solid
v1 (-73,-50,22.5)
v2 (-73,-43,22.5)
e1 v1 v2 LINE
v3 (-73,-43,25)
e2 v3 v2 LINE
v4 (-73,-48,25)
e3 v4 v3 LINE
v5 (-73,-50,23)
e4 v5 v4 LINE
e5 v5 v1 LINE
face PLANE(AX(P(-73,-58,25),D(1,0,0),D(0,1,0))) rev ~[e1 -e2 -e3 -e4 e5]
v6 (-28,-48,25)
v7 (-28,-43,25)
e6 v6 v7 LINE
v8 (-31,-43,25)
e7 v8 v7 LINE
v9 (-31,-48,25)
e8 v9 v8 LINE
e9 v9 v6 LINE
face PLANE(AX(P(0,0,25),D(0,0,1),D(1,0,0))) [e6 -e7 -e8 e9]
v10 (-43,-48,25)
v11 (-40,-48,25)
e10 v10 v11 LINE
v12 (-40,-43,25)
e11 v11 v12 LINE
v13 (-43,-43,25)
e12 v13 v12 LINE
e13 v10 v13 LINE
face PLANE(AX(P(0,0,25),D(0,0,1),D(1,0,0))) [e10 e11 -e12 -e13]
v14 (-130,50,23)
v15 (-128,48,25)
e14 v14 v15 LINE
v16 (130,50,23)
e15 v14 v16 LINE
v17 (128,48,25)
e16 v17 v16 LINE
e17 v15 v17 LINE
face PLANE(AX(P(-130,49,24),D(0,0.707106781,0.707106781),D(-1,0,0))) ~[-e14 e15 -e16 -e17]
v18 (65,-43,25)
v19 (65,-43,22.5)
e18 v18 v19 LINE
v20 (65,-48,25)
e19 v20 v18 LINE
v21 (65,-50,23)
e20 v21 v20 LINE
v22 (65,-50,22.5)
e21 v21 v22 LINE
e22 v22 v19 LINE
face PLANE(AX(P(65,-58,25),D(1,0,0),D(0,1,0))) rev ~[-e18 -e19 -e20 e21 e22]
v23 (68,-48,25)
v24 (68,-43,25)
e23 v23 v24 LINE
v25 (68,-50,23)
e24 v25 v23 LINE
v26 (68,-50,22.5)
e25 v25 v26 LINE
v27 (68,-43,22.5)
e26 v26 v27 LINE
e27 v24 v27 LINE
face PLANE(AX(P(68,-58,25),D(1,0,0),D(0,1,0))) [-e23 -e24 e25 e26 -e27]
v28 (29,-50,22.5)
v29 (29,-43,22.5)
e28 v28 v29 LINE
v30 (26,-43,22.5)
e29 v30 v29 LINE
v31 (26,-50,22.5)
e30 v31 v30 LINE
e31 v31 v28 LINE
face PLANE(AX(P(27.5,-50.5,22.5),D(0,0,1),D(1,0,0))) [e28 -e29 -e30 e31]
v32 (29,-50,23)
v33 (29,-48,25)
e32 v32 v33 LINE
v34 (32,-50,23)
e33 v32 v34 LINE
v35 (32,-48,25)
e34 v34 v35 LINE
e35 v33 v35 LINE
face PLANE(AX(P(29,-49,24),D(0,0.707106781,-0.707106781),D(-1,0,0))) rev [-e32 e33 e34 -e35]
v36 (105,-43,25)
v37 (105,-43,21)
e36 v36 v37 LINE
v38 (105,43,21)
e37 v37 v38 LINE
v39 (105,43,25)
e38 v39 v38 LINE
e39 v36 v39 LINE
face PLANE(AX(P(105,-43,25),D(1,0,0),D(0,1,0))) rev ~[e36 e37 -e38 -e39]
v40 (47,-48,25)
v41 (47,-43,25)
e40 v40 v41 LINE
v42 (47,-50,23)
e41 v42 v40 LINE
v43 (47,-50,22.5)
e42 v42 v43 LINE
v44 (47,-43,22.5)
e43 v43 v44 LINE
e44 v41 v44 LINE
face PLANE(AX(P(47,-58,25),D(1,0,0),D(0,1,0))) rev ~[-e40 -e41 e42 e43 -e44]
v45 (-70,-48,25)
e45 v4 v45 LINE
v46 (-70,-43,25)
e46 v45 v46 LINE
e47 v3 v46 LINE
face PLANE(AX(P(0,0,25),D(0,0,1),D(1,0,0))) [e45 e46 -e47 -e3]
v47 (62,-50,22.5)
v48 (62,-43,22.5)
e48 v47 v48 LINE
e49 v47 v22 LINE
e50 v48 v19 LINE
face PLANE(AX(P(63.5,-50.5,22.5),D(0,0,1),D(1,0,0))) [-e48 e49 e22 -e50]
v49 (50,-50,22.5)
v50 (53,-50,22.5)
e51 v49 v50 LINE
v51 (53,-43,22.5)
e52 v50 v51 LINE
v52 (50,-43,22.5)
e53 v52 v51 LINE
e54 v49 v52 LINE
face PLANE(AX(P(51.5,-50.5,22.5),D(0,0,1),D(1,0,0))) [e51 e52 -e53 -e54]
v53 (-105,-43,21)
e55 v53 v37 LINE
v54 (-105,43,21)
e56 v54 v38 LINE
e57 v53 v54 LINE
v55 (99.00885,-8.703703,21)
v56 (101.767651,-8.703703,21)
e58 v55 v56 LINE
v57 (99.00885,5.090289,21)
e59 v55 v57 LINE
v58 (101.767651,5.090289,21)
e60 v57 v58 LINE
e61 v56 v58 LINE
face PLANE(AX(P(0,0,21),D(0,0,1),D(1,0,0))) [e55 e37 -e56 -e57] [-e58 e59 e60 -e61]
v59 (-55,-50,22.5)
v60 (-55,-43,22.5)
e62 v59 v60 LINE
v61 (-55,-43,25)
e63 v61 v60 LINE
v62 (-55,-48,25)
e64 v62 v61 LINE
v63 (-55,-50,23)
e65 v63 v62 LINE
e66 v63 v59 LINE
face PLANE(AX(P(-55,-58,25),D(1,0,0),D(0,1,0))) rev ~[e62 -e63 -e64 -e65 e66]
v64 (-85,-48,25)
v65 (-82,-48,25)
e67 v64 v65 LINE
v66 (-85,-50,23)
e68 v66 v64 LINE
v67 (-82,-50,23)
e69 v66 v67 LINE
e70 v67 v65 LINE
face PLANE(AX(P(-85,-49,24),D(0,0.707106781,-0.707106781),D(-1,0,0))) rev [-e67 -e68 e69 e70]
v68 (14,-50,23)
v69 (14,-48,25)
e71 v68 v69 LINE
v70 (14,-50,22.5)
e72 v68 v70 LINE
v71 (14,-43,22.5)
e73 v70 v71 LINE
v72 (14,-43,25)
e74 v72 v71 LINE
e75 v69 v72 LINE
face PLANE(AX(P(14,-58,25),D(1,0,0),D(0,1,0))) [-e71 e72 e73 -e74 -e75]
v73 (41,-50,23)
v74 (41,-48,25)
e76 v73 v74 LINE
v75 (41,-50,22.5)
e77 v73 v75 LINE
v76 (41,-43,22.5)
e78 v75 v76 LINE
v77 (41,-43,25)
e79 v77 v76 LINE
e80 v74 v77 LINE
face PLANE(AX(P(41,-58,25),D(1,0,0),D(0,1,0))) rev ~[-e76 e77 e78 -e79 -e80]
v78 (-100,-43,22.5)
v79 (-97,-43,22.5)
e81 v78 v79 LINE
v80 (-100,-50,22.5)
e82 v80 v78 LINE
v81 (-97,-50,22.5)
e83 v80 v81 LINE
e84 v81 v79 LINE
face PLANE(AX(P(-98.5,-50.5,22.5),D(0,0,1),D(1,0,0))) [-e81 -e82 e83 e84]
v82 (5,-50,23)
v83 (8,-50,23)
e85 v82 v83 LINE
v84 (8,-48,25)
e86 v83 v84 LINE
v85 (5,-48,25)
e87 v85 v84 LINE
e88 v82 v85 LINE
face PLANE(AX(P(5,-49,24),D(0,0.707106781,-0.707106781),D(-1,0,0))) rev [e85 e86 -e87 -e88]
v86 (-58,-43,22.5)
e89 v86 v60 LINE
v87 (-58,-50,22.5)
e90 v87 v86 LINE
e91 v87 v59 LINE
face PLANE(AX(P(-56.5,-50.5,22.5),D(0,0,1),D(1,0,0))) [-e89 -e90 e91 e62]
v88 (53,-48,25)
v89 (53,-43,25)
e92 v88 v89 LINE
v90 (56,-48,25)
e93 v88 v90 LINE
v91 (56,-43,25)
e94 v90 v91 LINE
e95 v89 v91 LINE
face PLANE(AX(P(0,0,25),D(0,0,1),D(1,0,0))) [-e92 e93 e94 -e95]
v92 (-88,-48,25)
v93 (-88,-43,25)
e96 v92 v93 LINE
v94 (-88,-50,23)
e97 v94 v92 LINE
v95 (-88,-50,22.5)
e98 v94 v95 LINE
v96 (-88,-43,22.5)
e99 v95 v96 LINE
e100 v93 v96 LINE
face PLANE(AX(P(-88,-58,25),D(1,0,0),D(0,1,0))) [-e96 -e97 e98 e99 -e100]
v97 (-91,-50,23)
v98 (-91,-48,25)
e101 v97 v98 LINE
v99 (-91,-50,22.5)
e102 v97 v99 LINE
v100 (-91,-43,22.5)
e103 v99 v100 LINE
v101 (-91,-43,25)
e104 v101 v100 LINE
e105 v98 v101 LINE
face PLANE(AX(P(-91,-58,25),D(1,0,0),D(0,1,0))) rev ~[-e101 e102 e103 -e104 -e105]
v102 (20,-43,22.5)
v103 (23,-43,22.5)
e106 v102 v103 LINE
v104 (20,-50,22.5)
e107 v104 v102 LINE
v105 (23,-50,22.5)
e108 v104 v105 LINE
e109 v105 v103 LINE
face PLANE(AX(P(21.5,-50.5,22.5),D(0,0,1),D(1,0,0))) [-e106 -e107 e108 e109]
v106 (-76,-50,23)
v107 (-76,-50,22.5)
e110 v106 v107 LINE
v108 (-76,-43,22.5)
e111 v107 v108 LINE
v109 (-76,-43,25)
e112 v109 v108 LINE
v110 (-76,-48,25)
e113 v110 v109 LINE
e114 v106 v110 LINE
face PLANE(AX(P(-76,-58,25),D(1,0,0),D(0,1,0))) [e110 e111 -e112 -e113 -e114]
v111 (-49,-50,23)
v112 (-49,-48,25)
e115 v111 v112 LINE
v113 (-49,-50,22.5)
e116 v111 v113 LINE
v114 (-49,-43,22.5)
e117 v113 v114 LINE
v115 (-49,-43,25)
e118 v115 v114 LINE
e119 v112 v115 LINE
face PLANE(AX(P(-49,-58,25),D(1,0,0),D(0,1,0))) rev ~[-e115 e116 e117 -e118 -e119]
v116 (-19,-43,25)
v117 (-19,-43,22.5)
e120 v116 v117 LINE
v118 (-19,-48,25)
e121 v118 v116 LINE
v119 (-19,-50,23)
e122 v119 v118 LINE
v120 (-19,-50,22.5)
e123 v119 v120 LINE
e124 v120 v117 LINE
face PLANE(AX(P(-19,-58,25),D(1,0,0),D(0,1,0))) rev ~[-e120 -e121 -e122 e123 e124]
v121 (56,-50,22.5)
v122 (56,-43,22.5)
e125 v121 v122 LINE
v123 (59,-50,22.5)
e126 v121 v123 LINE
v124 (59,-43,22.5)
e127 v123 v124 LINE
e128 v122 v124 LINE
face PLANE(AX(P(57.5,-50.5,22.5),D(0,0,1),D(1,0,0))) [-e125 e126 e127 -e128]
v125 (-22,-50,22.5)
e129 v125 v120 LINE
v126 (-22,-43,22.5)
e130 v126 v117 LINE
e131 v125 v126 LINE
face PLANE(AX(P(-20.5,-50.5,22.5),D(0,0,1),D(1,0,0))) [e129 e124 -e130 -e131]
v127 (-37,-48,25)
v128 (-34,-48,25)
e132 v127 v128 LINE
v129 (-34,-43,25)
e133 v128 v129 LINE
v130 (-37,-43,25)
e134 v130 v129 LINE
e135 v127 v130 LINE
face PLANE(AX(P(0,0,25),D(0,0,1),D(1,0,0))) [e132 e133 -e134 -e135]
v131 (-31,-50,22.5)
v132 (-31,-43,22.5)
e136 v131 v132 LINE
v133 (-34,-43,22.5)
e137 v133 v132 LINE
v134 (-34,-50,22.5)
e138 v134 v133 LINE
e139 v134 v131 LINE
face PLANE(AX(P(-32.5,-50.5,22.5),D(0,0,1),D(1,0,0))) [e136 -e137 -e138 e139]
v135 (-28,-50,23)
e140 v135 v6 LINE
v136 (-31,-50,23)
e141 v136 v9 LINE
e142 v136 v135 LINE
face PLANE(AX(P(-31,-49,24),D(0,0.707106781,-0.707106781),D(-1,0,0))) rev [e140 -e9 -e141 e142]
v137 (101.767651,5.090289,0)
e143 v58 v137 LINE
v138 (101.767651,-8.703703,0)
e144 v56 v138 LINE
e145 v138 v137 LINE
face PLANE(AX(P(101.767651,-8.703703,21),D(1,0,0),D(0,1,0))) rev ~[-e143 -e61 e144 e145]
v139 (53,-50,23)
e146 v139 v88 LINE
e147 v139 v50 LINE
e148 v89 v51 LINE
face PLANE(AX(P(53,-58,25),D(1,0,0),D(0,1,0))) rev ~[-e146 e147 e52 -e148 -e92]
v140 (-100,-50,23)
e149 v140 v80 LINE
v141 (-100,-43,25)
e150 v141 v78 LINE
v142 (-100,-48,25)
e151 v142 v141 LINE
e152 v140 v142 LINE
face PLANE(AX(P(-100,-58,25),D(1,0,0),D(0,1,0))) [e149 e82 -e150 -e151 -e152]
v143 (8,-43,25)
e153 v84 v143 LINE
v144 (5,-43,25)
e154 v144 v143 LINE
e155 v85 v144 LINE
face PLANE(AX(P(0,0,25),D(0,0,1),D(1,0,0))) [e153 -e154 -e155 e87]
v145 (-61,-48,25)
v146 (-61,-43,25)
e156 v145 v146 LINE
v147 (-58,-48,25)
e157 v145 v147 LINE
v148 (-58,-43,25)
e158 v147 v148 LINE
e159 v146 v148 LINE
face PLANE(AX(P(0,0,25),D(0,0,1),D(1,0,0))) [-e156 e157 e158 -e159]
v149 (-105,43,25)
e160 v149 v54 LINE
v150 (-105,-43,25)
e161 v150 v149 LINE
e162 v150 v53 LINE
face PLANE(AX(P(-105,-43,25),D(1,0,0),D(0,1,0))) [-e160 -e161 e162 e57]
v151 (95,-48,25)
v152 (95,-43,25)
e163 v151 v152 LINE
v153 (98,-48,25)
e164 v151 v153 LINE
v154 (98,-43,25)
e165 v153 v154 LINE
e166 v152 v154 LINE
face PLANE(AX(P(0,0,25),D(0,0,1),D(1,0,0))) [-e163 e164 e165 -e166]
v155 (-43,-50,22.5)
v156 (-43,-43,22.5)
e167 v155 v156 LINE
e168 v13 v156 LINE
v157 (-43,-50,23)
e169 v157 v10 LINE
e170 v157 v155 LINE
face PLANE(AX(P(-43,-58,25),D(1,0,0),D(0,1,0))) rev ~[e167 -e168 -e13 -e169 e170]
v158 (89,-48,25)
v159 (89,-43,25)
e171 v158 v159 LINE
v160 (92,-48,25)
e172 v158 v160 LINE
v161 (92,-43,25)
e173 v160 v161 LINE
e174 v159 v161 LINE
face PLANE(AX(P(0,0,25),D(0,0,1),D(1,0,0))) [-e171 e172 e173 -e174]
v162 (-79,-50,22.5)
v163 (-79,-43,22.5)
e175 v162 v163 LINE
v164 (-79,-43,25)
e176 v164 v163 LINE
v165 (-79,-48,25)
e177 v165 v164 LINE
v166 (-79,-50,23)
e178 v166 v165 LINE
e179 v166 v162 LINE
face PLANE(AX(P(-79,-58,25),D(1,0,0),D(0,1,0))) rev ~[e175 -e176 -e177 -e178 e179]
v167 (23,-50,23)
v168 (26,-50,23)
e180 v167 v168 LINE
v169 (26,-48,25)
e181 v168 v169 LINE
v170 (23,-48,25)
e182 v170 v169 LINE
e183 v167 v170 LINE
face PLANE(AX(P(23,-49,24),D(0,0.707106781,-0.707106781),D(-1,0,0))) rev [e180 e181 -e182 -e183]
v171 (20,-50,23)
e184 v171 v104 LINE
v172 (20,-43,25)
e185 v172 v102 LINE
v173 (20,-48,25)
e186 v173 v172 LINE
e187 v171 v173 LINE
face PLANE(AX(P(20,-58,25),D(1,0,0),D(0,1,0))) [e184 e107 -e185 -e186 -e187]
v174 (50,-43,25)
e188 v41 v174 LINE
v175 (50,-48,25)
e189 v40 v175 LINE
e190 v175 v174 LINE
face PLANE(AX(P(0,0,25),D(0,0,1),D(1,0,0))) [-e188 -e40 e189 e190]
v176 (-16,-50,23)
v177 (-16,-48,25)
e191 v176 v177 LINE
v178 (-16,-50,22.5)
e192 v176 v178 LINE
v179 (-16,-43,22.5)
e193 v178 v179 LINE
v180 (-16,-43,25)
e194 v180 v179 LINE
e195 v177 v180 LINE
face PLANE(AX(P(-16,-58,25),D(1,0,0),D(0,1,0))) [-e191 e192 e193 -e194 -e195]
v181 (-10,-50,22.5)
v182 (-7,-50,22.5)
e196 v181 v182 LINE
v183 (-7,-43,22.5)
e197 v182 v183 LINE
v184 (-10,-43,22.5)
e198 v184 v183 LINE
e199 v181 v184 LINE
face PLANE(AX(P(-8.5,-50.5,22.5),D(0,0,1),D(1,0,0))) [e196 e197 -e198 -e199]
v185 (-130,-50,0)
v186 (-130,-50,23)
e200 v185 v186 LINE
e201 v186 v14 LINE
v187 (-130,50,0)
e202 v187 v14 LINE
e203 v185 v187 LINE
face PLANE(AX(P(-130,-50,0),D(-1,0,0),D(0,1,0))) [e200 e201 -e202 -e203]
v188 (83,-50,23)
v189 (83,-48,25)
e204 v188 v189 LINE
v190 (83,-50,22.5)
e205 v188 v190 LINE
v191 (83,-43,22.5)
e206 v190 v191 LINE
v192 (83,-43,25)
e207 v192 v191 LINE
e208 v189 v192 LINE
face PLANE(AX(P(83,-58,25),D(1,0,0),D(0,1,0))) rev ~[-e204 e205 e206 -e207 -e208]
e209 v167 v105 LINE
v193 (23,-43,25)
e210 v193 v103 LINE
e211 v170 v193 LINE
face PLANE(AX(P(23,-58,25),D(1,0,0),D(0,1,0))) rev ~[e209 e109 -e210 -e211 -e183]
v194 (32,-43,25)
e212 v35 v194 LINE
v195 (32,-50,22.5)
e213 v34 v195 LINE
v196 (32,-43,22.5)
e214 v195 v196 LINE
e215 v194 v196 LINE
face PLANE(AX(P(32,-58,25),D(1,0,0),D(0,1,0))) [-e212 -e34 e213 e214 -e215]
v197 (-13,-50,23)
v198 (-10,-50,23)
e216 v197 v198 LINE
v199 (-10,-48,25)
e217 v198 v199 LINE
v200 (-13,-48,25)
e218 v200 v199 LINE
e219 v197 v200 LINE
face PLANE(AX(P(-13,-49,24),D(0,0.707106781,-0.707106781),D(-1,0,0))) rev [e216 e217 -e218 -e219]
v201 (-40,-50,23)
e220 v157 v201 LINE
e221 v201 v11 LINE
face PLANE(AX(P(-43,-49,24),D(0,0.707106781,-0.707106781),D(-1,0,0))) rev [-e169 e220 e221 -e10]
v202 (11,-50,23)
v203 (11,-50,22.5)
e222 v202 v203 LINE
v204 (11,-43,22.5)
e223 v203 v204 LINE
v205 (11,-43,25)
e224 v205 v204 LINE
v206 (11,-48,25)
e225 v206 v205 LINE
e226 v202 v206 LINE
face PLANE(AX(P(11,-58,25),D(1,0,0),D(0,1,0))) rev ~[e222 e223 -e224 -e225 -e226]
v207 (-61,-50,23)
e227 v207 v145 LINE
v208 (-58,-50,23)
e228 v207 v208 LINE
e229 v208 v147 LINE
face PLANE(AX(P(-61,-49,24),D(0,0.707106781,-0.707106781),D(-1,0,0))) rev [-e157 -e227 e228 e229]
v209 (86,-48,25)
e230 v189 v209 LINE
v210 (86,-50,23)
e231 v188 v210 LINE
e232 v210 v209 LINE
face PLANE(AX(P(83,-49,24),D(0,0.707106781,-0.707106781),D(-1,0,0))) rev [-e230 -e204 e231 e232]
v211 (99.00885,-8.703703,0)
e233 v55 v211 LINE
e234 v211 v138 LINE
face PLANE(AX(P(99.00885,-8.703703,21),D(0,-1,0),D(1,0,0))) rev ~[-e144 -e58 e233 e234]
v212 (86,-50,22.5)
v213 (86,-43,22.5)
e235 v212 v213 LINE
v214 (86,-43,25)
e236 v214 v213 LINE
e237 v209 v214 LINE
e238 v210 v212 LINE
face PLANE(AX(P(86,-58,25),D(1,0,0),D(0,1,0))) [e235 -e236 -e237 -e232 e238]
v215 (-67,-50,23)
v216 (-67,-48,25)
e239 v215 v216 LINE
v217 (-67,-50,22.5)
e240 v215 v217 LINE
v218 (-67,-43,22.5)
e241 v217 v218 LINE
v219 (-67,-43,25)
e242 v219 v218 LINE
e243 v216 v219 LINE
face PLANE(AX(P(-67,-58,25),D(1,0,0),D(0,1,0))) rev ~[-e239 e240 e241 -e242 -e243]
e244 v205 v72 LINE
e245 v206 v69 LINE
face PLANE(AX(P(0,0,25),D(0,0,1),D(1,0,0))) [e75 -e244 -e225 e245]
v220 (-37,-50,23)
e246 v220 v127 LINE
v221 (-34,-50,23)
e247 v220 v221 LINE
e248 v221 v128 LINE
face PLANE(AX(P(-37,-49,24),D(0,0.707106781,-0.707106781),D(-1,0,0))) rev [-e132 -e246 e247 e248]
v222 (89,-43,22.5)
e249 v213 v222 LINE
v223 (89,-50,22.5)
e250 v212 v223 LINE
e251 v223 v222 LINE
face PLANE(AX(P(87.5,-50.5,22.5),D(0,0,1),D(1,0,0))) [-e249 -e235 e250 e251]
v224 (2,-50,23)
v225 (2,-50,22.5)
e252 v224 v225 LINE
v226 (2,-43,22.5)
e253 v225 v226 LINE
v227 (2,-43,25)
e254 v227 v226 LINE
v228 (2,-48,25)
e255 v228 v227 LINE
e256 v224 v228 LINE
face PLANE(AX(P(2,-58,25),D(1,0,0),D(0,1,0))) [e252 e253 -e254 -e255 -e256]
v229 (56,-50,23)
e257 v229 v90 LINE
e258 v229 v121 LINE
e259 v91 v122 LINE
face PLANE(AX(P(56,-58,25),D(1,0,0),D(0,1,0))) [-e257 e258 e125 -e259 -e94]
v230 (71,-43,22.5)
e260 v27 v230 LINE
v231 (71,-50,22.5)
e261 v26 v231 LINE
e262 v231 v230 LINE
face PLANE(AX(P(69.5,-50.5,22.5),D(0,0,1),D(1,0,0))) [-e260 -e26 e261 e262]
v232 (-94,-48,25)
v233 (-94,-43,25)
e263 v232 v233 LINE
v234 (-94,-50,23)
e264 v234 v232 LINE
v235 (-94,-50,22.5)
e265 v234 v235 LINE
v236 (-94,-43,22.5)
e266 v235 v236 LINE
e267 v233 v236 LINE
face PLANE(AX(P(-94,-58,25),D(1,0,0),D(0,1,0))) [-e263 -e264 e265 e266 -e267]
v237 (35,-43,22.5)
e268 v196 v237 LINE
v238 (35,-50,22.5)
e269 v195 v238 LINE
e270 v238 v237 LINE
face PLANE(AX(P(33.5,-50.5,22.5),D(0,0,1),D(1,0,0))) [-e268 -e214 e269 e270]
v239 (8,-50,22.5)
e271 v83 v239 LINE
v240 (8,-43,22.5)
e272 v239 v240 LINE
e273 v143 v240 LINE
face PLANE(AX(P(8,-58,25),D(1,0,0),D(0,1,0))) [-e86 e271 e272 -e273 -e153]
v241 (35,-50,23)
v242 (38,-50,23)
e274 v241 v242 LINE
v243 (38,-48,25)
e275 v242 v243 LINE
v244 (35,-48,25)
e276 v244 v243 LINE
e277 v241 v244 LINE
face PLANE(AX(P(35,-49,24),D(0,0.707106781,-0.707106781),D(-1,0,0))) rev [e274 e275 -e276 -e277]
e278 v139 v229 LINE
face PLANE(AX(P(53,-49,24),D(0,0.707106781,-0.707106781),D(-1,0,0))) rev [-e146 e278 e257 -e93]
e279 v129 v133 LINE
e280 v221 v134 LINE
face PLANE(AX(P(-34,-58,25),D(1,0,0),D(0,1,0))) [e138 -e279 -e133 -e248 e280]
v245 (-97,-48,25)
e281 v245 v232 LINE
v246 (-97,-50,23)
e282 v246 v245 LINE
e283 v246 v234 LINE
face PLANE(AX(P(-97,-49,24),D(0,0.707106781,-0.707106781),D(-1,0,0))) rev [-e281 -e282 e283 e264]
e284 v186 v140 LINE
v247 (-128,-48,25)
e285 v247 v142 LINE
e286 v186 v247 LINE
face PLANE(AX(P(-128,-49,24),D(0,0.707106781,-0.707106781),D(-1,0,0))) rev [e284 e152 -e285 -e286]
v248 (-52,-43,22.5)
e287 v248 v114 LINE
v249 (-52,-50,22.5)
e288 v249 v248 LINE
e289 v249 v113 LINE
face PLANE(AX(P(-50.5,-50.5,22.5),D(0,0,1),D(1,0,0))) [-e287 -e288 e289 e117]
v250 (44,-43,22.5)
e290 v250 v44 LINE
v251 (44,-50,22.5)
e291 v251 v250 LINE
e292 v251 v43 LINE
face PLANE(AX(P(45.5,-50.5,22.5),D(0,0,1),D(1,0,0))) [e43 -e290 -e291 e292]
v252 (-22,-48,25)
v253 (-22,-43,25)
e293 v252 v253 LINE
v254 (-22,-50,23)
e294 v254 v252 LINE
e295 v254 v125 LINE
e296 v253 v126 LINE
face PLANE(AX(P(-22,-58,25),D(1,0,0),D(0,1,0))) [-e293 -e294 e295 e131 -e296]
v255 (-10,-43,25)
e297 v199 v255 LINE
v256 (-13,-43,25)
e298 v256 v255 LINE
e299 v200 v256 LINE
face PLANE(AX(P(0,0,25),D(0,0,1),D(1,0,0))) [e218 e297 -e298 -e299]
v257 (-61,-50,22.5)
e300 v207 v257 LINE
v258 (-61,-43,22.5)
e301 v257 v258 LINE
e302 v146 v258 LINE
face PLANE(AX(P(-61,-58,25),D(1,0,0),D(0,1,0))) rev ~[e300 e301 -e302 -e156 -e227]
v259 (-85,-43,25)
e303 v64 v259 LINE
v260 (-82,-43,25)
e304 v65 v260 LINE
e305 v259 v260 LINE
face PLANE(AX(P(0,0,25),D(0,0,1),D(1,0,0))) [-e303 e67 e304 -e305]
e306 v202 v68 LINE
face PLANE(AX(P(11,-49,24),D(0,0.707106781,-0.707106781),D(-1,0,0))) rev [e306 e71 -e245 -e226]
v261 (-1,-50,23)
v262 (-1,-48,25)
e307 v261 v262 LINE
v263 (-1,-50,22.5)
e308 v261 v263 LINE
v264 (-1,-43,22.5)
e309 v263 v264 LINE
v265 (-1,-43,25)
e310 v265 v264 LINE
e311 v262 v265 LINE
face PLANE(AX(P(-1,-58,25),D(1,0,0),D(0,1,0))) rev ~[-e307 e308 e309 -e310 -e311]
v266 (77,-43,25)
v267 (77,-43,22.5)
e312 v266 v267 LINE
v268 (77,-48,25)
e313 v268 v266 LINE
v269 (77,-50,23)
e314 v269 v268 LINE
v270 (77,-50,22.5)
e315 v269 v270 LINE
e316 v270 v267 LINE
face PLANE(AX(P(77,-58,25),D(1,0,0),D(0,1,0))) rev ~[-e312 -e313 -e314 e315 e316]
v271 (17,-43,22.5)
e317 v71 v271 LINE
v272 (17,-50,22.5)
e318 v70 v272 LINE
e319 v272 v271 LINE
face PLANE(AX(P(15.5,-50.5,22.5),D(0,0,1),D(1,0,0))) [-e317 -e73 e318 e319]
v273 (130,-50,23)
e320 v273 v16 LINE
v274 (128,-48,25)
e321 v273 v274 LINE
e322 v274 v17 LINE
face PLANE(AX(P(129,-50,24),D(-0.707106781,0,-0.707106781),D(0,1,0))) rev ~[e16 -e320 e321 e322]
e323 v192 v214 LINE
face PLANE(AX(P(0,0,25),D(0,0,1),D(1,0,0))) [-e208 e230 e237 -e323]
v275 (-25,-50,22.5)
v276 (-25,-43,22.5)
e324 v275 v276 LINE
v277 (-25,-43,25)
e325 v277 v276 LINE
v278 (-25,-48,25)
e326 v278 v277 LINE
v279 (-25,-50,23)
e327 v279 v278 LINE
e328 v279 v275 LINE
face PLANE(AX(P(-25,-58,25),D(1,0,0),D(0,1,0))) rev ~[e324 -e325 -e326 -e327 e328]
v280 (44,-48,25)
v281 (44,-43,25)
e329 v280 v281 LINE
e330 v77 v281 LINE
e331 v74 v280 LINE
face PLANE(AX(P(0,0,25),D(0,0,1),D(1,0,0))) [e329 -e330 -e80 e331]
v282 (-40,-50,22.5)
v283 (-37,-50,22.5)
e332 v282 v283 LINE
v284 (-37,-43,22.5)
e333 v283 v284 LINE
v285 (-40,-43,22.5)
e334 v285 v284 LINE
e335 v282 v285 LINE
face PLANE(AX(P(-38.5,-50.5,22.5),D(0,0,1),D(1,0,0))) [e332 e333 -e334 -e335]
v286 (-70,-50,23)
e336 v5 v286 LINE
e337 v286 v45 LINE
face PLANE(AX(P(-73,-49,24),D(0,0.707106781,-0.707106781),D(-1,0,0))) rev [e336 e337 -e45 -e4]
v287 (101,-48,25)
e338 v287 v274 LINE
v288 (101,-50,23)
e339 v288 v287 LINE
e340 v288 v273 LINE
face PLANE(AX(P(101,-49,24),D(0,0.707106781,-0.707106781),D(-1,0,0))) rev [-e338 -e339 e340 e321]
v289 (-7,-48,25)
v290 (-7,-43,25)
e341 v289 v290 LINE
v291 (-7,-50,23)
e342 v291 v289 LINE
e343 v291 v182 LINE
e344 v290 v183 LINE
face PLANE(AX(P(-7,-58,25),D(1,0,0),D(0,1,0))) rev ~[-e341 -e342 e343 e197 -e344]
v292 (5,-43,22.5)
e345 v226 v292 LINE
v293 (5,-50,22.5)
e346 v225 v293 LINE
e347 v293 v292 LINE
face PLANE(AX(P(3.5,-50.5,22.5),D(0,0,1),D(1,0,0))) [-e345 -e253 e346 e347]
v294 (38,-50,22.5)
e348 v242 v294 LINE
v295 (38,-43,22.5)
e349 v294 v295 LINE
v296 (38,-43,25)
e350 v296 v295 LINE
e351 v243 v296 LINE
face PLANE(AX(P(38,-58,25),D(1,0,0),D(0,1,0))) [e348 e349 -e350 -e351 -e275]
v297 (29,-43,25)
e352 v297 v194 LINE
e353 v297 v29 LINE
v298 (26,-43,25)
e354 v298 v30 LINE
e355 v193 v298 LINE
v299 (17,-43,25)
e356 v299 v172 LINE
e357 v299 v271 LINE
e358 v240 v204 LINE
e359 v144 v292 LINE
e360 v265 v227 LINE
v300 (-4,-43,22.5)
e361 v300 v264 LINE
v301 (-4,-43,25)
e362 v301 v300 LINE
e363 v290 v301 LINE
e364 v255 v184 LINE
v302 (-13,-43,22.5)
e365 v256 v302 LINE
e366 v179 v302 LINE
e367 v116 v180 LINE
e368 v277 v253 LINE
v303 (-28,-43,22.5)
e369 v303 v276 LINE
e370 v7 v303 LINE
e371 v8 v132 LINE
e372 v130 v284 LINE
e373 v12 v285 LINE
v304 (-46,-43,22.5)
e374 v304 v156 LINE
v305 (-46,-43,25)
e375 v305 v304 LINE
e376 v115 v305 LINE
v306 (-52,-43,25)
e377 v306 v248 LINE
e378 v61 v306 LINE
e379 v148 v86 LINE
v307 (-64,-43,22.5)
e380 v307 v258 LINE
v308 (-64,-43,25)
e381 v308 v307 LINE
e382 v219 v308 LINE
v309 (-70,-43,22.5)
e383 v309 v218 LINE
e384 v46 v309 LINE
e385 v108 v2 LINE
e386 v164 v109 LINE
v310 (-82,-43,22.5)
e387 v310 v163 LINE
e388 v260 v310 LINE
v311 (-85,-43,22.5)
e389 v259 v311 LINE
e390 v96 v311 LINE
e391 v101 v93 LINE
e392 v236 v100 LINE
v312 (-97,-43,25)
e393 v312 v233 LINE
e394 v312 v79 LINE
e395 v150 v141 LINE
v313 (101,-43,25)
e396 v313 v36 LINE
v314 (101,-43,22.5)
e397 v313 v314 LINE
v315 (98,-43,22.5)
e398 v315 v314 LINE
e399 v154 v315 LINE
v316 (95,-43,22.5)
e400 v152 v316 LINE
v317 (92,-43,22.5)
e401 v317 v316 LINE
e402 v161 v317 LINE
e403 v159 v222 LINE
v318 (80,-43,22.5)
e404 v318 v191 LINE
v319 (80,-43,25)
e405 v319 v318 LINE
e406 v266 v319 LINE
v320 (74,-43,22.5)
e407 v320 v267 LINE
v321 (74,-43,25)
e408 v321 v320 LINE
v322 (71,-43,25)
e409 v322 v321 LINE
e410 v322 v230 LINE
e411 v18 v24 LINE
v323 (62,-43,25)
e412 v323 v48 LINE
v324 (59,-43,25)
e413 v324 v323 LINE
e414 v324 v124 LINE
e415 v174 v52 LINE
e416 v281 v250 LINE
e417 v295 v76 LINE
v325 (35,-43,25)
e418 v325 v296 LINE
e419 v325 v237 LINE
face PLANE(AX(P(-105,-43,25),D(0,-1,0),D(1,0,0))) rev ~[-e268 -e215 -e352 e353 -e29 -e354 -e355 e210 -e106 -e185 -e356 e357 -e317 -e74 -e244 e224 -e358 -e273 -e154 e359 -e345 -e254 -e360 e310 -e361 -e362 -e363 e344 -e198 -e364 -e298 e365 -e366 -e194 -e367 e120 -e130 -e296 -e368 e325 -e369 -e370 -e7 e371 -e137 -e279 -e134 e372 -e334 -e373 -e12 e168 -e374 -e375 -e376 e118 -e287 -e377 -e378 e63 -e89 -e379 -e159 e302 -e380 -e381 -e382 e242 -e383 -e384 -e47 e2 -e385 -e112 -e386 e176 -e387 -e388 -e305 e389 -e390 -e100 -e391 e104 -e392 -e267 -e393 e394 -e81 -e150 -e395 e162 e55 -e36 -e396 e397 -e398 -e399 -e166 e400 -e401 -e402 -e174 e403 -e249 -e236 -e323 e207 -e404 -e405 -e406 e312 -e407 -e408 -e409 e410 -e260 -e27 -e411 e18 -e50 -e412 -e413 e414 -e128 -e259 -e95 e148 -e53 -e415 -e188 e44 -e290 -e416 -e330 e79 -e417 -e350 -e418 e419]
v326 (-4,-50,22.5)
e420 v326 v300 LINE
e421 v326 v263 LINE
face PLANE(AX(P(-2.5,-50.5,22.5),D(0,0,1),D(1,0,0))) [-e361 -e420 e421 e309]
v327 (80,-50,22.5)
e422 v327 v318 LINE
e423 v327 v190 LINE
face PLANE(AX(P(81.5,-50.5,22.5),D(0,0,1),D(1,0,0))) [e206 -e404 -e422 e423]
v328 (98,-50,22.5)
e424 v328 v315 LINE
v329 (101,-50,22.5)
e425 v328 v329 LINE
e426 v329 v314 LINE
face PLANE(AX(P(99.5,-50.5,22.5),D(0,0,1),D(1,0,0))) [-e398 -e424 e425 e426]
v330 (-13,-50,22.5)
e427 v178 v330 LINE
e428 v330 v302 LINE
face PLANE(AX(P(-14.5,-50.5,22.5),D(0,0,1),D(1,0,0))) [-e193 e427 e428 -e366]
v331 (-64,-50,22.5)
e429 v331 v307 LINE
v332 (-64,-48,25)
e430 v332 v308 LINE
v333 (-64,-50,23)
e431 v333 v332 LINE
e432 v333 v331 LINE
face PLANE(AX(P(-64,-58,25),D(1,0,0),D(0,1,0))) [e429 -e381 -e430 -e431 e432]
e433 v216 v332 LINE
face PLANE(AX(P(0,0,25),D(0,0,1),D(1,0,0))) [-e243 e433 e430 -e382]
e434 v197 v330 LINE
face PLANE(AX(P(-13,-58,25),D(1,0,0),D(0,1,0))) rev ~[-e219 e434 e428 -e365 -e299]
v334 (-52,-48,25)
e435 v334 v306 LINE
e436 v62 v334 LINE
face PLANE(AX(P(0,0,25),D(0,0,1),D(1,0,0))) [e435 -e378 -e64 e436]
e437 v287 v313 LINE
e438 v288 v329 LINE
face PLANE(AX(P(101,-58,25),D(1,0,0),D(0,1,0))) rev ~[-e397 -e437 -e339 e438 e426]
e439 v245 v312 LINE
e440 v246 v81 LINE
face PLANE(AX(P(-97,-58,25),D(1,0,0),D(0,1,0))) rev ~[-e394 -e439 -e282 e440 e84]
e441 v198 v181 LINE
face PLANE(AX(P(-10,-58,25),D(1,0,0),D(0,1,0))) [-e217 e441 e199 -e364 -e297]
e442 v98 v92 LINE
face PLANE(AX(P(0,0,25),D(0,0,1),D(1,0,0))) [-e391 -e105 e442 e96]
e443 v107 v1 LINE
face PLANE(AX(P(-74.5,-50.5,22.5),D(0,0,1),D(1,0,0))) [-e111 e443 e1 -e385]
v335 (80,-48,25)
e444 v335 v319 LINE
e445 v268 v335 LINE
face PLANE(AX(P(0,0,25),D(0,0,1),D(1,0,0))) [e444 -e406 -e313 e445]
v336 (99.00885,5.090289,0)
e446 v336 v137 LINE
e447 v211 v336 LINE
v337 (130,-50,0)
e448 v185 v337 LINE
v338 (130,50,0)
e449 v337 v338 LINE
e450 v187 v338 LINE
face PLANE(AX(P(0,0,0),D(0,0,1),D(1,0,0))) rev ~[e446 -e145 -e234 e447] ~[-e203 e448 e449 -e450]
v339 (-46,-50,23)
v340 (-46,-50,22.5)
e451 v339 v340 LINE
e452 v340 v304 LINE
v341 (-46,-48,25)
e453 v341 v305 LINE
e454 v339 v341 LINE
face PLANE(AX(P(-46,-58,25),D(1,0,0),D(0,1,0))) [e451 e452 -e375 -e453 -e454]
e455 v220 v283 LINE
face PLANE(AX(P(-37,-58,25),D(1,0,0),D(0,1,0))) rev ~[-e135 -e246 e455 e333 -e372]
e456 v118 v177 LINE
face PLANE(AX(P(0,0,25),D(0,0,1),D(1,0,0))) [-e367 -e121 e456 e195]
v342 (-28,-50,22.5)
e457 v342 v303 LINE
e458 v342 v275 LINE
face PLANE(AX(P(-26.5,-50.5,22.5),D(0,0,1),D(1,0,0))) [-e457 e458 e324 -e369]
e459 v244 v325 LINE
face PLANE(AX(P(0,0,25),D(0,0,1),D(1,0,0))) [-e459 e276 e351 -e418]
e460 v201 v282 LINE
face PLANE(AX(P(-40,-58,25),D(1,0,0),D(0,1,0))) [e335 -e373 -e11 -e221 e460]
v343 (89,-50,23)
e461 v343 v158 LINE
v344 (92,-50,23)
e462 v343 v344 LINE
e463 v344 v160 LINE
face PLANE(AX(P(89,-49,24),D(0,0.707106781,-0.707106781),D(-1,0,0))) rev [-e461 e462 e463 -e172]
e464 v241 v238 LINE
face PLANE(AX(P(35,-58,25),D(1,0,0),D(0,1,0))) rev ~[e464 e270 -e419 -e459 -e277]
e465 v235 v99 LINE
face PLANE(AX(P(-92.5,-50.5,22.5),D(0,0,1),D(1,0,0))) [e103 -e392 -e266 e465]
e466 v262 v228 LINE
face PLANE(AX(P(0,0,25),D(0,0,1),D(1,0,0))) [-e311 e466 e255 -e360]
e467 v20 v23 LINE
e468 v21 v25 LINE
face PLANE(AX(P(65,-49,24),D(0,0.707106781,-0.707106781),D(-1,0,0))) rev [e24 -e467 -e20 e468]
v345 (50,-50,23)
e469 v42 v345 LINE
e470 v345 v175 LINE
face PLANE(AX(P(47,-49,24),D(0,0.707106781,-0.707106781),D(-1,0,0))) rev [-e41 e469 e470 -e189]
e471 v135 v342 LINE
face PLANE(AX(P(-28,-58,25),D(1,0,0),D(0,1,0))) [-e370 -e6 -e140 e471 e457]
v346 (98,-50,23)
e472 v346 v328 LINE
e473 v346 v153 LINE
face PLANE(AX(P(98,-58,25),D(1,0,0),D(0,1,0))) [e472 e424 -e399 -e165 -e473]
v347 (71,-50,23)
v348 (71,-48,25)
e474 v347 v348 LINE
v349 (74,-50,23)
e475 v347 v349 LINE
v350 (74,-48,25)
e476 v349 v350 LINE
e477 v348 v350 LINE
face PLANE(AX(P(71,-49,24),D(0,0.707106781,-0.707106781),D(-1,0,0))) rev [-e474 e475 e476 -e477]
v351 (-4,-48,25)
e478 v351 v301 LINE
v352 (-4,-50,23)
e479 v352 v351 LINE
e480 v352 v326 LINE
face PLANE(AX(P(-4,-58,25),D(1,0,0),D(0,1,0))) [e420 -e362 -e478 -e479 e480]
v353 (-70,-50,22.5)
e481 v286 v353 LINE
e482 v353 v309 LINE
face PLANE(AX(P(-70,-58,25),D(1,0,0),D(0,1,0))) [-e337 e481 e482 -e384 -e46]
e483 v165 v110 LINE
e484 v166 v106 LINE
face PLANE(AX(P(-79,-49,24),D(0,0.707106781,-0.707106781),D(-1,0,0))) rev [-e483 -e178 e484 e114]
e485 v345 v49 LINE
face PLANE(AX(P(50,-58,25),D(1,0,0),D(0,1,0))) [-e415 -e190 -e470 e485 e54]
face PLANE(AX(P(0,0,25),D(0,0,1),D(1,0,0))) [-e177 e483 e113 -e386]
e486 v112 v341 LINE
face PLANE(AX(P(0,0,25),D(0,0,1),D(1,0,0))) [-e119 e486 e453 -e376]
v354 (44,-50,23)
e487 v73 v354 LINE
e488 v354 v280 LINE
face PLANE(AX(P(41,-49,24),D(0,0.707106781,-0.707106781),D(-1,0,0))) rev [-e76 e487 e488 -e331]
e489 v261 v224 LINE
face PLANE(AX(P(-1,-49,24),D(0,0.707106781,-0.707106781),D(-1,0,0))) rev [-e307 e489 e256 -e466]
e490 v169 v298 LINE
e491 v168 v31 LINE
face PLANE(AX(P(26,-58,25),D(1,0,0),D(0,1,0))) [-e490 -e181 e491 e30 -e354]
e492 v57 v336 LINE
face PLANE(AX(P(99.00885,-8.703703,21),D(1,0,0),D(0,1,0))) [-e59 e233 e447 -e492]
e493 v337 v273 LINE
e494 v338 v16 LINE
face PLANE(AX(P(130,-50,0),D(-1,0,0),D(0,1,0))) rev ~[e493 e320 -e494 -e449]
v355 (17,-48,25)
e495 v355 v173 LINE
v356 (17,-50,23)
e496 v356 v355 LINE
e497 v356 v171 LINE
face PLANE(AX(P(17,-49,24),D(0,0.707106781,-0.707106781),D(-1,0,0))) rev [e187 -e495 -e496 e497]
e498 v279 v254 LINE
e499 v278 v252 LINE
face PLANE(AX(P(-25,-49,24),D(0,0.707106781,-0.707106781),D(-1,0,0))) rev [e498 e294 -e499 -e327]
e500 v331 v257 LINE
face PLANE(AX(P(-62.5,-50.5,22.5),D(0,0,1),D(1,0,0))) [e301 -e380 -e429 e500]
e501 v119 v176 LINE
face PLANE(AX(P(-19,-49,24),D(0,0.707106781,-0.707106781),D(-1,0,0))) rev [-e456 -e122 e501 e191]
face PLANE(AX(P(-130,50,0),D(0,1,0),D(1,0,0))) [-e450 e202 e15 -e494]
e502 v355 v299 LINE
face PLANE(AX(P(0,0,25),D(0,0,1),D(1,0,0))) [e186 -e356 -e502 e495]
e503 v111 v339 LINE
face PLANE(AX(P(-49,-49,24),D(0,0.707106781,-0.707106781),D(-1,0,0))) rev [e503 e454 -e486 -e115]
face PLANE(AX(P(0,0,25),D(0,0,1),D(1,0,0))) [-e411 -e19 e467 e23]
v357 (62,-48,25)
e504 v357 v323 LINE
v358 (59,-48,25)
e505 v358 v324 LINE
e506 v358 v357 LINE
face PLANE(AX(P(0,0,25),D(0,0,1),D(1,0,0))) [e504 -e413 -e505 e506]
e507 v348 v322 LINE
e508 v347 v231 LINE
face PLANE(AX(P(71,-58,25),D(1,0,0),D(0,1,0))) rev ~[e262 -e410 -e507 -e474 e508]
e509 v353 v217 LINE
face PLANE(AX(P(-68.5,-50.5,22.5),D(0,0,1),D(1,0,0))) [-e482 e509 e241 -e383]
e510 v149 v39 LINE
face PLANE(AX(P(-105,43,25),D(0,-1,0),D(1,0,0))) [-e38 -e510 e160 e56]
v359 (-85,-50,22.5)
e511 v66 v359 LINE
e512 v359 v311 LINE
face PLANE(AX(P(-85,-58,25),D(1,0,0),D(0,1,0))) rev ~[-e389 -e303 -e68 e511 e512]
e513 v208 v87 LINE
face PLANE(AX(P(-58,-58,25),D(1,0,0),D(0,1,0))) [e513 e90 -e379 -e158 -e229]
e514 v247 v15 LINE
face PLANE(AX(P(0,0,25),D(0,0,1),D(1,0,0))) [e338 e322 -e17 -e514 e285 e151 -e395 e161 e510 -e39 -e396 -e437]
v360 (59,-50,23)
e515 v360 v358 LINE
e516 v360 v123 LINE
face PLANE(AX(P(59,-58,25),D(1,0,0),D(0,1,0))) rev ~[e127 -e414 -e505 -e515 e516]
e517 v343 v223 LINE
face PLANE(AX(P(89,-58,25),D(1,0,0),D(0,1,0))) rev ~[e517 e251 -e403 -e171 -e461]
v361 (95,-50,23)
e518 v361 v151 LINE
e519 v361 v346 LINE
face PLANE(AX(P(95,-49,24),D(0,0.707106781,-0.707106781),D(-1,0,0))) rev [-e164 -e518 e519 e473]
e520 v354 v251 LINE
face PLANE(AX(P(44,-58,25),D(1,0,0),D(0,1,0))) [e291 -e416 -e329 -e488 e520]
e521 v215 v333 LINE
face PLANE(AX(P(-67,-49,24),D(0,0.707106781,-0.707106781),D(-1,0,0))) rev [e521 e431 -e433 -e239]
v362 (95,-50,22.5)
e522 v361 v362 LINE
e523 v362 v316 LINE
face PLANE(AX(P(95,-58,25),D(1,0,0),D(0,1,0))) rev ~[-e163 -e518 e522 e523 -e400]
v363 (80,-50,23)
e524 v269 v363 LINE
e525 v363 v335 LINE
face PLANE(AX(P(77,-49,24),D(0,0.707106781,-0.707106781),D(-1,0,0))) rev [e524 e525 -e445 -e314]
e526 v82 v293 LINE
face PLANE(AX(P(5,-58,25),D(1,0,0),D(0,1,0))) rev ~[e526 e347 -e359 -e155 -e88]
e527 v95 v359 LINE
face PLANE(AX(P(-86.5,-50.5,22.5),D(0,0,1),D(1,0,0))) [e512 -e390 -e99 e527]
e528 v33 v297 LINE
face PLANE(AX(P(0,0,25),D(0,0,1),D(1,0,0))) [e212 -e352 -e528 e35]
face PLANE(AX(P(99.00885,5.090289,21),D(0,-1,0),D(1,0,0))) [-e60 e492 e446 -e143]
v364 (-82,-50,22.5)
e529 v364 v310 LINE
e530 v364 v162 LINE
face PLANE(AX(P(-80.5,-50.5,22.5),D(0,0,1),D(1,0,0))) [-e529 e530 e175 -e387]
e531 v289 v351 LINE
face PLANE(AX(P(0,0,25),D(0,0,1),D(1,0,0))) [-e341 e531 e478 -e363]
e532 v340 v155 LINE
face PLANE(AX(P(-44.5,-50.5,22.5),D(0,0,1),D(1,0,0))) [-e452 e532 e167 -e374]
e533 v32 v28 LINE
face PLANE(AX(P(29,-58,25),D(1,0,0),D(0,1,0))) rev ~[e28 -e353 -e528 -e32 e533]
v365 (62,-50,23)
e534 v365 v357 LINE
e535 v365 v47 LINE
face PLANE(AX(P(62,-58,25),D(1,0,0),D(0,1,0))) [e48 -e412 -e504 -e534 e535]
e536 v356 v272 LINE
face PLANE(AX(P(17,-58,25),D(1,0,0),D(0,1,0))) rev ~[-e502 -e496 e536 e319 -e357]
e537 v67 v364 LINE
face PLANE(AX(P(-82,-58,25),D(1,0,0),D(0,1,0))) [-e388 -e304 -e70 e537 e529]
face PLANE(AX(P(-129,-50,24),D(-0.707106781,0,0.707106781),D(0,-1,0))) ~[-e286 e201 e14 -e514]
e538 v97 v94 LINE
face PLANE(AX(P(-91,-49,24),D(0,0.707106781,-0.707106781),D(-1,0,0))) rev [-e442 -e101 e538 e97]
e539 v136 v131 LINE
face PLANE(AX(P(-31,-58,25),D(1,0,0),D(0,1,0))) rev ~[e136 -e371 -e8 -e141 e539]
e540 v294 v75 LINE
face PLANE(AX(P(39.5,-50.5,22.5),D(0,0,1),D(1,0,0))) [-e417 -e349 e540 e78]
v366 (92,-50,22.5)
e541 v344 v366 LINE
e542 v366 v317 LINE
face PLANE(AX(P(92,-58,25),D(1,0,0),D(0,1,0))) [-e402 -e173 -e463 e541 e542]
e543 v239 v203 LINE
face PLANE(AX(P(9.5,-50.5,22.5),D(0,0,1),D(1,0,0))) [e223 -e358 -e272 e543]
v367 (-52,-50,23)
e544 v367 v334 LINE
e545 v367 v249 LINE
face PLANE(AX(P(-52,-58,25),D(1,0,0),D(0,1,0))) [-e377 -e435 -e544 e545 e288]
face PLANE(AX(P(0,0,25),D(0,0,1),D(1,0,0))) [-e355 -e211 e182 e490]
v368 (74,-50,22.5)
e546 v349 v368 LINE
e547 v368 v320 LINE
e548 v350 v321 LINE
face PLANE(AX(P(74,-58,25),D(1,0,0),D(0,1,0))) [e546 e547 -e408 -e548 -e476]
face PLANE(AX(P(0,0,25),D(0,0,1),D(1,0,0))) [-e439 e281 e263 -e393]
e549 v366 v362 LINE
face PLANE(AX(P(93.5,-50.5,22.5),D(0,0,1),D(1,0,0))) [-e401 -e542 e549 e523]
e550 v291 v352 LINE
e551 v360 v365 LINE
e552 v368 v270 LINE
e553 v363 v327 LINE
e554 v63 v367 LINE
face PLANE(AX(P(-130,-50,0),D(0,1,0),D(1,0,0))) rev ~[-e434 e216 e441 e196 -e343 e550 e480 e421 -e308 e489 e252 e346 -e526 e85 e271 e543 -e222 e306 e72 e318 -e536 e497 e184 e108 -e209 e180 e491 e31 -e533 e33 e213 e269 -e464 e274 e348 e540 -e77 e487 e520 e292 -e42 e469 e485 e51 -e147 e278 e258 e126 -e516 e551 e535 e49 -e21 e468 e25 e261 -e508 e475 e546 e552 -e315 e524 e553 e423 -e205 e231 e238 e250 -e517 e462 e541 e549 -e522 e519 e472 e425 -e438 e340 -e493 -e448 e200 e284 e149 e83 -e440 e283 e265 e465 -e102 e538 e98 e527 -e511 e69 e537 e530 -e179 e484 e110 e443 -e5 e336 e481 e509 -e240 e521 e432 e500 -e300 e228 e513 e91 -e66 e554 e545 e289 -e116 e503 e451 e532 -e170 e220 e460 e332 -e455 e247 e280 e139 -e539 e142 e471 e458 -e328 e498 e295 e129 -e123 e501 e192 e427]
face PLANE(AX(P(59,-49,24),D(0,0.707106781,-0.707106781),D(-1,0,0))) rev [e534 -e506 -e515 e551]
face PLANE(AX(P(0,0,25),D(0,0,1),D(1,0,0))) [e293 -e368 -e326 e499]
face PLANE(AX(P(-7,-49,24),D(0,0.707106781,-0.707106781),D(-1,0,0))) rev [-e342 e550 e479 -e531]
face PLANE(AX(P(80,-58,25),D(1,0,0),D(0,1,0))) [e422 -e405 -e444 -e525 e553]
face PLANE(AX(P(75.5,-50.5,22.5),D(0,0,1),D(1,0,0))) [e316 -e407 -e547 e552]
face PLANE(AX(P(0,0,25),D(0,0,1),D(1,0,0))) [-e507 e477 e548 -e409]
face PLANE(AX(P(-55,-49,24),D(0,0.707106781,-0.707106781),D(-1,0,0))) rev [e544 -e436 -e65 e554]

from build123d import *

# Parameters (mm, degrees)
F0_W     = 260
F0_H     = 100
F1_DEPTH = 25
F2_W     = 210
F2_H     = 86
F3_DEPTH = 4
F4_W     = 3
F4_H     = 15
F5_DEPTH = 2.5
F7_SIZE  = 2
F8_SIZE  = 2
F6_W     = 2.758801
F6_H     = 13.793992
F9_DEPTH = 25


with BuildPart() as f1:
    # F0 (on Top) → F1 (new body)
    with BuildSketch(Plane.XY):
        Rectangle(F0_W, F0_H)
    extrude(amount=F1_DEPTH)

    # F2 (on face) → F3 (cut)
    with BuildSketch(Plane.XY.offset(25)):
        Rectangle(F2_W, F2_H)
    extrude(amount=-F3_DEPTH, mode=Mode.SUBTRACT)

    # F4 (on face) → F5 (cut)
    with BuildSketch(Plane.XY.offset(25)):
        with Locations((-98.5, -50.5)):
            Rectangle(F4_W, F4_H)
        with Locations((-92.5, -50.5)):
            Rectangle(F4_W, F4_H)
        with Locations((-86.5, -50.5)):
            Rectangle(F4_W, F4_H)
        with Locations((-80.5, -50.5)):
            Rectangle(F4_W, F4_H)
        with Locations((-74.5, -50.5)):
            Rectangle(F4_W, F4_H)
        with Locations((-68.5, -50.5)):
            Rectangle(F4_W, F4_H)
        with Locations((-62.5, -50.5)):
            Rectangle(F4_W, F4_H)
        with Locations((-56.5, -50.5)):
            Rectangle(F4_W, F4_H)
        with Locations((-50.5, -50.5)):
            Rectangle(F4_W, F4_H)
        with Locations((-44.5, -50.5)):
            Rectangle(F4_W, F4_H)
        with Locations((-38.5, -50.5)):
            Rectangle(F4_W, F4_H)
        with Locations((-32.5, -50.5)):
            Rectangle(F4_W, F4_H)
        with Locations((-26.5, -50.5)):
            Rectangle(F4_W, F4_H)
        with Locations((-20.5, -50.5)):
            Rectangle(F4_W, F4_H)
        with Locations((-14.5, -50.5)):
            Rectangle(F4_W, F4_H)
        with Locations((-8.5, -50.5)):
            Rectangle(F4_W, F4_H)
        with Locations((-2.5, -50.5)):
            Rectangle(F4_W, F4_H)
        with Locations((3.5, -50.5)):
            Rectangle(F4_W, F4_H)
        with Locations((9.5, -50.5)):
            Rectangle(F4_W, F4_H)
        with Locations((15.5, -50.5)):
            Rectangle(F4_W, F4_H)
        with Locations((21.5, -50.5)):
            Rectangle(F4_W, F4_H)
        with Locations((27.5, -50.5)):
            Rectangle(F4_W, F4_H)
        with Locations((33.5, -50.5)):
            Rectangle(F4_W, F4_H)
        with Locations((39.5, -50.5)):
            Rectangle(F4_W, F4_H)
        with Locations((45.5, -50.5)):
            Rectangle(F4_W, F4_H)
        with Locations((51.5, -50.5)):
            Rectangle(F4_W, F4_H)
        with Locations((57.5, -50.5)):
            Rectangle(F4_W, F4_H)
        with Locations((63.5, -50.5)):
            Rectangle(F4_W, F4_H)
        with Locations((69.5, -50.5)):
            Rectangle(F4_W, F4_H)
        with Locations((75.5, -50.5)):
            Rectangle(F4_W, F4_H)
        with Locations((81.5, -50.5)):
            Rectangle(F4_W, F4_H)
        with Locations((87.5, -50.5)):
            Rectangle(F4_W, F4_H)
        with Locations((93.5, -50.5)):
            Rectangle(F4_W, F4_H)
        with Locations((99.5, -50.5)):
            Rectangle(F4_W, F4_H)
    extrude(amount=-F5_DEPTH, mode=Mode.SUBTRACT)

    # F7
    f7_edges = [f1.edges().sort_by_distance(p)[0] for p in [
        (130, 0, 25),
        (0, 50, 25),
        (0.5, -50, 25),
        (-130, 0, 25),
    ]]
    chamfer(f7_edges, length=F7_SIZE)

    # F8
    f8_edges = [f1.edges().sort_by_distance(p)[0] for p in [
        (114.5, -50, 25),
        (-114, -50, 25),
        (96.5, -50, 25),
        (-95.5, -50, 25),
        (90.5, -50, 25),
        (-89.5, -50, 25),
        (84.5, -50, 25),
        (-83.5, -50, 25),
        (78.5, -50, 25),
        (-77.5, -50, 25),
        (72.5, -50, 25),
        (-71.5, -50, 25),
        (66.5, -50, 25),
        (-65.5, -50, 25),
        (60.5, -50, 25),
        (-59.5, -50, 25),
        (54.5, -50, 25),
        (-53.5, -50, 25),
        (48.5, -50, 25),
        (-47.5, -50, 25),
        (42.5, -50, 25),
        (-41.5, -50, 25),
        (36.5, -50, 25),
        (-35.5, -50, 25),
        (30.5, -50, 25),
        (-29.5, -50, 25),
        (24.5, -50, 25),
        (-23.5, -50, 25),
        (18.5, -50, 25),
        (-17.5, -50, 25),
        (12.5, -50, 25),
        (-11.5, -50, 25),
        (6.5, -50, 25),
        (-5.5, -50, 25),
    ]]
    chamfer(f8_edges, length=F8_SIZE)

    # F6 (on face) → F9 (cut)
    with BuildSketch(Plane.XY.offset(21)):
        with Locations((100.388251, -1.806707)):
            Rectangle(F6_W, F6_H)
    extrude(amount=-F9_DEPTH, mode=Mode.SUBTRACT)


solid = f1.part
